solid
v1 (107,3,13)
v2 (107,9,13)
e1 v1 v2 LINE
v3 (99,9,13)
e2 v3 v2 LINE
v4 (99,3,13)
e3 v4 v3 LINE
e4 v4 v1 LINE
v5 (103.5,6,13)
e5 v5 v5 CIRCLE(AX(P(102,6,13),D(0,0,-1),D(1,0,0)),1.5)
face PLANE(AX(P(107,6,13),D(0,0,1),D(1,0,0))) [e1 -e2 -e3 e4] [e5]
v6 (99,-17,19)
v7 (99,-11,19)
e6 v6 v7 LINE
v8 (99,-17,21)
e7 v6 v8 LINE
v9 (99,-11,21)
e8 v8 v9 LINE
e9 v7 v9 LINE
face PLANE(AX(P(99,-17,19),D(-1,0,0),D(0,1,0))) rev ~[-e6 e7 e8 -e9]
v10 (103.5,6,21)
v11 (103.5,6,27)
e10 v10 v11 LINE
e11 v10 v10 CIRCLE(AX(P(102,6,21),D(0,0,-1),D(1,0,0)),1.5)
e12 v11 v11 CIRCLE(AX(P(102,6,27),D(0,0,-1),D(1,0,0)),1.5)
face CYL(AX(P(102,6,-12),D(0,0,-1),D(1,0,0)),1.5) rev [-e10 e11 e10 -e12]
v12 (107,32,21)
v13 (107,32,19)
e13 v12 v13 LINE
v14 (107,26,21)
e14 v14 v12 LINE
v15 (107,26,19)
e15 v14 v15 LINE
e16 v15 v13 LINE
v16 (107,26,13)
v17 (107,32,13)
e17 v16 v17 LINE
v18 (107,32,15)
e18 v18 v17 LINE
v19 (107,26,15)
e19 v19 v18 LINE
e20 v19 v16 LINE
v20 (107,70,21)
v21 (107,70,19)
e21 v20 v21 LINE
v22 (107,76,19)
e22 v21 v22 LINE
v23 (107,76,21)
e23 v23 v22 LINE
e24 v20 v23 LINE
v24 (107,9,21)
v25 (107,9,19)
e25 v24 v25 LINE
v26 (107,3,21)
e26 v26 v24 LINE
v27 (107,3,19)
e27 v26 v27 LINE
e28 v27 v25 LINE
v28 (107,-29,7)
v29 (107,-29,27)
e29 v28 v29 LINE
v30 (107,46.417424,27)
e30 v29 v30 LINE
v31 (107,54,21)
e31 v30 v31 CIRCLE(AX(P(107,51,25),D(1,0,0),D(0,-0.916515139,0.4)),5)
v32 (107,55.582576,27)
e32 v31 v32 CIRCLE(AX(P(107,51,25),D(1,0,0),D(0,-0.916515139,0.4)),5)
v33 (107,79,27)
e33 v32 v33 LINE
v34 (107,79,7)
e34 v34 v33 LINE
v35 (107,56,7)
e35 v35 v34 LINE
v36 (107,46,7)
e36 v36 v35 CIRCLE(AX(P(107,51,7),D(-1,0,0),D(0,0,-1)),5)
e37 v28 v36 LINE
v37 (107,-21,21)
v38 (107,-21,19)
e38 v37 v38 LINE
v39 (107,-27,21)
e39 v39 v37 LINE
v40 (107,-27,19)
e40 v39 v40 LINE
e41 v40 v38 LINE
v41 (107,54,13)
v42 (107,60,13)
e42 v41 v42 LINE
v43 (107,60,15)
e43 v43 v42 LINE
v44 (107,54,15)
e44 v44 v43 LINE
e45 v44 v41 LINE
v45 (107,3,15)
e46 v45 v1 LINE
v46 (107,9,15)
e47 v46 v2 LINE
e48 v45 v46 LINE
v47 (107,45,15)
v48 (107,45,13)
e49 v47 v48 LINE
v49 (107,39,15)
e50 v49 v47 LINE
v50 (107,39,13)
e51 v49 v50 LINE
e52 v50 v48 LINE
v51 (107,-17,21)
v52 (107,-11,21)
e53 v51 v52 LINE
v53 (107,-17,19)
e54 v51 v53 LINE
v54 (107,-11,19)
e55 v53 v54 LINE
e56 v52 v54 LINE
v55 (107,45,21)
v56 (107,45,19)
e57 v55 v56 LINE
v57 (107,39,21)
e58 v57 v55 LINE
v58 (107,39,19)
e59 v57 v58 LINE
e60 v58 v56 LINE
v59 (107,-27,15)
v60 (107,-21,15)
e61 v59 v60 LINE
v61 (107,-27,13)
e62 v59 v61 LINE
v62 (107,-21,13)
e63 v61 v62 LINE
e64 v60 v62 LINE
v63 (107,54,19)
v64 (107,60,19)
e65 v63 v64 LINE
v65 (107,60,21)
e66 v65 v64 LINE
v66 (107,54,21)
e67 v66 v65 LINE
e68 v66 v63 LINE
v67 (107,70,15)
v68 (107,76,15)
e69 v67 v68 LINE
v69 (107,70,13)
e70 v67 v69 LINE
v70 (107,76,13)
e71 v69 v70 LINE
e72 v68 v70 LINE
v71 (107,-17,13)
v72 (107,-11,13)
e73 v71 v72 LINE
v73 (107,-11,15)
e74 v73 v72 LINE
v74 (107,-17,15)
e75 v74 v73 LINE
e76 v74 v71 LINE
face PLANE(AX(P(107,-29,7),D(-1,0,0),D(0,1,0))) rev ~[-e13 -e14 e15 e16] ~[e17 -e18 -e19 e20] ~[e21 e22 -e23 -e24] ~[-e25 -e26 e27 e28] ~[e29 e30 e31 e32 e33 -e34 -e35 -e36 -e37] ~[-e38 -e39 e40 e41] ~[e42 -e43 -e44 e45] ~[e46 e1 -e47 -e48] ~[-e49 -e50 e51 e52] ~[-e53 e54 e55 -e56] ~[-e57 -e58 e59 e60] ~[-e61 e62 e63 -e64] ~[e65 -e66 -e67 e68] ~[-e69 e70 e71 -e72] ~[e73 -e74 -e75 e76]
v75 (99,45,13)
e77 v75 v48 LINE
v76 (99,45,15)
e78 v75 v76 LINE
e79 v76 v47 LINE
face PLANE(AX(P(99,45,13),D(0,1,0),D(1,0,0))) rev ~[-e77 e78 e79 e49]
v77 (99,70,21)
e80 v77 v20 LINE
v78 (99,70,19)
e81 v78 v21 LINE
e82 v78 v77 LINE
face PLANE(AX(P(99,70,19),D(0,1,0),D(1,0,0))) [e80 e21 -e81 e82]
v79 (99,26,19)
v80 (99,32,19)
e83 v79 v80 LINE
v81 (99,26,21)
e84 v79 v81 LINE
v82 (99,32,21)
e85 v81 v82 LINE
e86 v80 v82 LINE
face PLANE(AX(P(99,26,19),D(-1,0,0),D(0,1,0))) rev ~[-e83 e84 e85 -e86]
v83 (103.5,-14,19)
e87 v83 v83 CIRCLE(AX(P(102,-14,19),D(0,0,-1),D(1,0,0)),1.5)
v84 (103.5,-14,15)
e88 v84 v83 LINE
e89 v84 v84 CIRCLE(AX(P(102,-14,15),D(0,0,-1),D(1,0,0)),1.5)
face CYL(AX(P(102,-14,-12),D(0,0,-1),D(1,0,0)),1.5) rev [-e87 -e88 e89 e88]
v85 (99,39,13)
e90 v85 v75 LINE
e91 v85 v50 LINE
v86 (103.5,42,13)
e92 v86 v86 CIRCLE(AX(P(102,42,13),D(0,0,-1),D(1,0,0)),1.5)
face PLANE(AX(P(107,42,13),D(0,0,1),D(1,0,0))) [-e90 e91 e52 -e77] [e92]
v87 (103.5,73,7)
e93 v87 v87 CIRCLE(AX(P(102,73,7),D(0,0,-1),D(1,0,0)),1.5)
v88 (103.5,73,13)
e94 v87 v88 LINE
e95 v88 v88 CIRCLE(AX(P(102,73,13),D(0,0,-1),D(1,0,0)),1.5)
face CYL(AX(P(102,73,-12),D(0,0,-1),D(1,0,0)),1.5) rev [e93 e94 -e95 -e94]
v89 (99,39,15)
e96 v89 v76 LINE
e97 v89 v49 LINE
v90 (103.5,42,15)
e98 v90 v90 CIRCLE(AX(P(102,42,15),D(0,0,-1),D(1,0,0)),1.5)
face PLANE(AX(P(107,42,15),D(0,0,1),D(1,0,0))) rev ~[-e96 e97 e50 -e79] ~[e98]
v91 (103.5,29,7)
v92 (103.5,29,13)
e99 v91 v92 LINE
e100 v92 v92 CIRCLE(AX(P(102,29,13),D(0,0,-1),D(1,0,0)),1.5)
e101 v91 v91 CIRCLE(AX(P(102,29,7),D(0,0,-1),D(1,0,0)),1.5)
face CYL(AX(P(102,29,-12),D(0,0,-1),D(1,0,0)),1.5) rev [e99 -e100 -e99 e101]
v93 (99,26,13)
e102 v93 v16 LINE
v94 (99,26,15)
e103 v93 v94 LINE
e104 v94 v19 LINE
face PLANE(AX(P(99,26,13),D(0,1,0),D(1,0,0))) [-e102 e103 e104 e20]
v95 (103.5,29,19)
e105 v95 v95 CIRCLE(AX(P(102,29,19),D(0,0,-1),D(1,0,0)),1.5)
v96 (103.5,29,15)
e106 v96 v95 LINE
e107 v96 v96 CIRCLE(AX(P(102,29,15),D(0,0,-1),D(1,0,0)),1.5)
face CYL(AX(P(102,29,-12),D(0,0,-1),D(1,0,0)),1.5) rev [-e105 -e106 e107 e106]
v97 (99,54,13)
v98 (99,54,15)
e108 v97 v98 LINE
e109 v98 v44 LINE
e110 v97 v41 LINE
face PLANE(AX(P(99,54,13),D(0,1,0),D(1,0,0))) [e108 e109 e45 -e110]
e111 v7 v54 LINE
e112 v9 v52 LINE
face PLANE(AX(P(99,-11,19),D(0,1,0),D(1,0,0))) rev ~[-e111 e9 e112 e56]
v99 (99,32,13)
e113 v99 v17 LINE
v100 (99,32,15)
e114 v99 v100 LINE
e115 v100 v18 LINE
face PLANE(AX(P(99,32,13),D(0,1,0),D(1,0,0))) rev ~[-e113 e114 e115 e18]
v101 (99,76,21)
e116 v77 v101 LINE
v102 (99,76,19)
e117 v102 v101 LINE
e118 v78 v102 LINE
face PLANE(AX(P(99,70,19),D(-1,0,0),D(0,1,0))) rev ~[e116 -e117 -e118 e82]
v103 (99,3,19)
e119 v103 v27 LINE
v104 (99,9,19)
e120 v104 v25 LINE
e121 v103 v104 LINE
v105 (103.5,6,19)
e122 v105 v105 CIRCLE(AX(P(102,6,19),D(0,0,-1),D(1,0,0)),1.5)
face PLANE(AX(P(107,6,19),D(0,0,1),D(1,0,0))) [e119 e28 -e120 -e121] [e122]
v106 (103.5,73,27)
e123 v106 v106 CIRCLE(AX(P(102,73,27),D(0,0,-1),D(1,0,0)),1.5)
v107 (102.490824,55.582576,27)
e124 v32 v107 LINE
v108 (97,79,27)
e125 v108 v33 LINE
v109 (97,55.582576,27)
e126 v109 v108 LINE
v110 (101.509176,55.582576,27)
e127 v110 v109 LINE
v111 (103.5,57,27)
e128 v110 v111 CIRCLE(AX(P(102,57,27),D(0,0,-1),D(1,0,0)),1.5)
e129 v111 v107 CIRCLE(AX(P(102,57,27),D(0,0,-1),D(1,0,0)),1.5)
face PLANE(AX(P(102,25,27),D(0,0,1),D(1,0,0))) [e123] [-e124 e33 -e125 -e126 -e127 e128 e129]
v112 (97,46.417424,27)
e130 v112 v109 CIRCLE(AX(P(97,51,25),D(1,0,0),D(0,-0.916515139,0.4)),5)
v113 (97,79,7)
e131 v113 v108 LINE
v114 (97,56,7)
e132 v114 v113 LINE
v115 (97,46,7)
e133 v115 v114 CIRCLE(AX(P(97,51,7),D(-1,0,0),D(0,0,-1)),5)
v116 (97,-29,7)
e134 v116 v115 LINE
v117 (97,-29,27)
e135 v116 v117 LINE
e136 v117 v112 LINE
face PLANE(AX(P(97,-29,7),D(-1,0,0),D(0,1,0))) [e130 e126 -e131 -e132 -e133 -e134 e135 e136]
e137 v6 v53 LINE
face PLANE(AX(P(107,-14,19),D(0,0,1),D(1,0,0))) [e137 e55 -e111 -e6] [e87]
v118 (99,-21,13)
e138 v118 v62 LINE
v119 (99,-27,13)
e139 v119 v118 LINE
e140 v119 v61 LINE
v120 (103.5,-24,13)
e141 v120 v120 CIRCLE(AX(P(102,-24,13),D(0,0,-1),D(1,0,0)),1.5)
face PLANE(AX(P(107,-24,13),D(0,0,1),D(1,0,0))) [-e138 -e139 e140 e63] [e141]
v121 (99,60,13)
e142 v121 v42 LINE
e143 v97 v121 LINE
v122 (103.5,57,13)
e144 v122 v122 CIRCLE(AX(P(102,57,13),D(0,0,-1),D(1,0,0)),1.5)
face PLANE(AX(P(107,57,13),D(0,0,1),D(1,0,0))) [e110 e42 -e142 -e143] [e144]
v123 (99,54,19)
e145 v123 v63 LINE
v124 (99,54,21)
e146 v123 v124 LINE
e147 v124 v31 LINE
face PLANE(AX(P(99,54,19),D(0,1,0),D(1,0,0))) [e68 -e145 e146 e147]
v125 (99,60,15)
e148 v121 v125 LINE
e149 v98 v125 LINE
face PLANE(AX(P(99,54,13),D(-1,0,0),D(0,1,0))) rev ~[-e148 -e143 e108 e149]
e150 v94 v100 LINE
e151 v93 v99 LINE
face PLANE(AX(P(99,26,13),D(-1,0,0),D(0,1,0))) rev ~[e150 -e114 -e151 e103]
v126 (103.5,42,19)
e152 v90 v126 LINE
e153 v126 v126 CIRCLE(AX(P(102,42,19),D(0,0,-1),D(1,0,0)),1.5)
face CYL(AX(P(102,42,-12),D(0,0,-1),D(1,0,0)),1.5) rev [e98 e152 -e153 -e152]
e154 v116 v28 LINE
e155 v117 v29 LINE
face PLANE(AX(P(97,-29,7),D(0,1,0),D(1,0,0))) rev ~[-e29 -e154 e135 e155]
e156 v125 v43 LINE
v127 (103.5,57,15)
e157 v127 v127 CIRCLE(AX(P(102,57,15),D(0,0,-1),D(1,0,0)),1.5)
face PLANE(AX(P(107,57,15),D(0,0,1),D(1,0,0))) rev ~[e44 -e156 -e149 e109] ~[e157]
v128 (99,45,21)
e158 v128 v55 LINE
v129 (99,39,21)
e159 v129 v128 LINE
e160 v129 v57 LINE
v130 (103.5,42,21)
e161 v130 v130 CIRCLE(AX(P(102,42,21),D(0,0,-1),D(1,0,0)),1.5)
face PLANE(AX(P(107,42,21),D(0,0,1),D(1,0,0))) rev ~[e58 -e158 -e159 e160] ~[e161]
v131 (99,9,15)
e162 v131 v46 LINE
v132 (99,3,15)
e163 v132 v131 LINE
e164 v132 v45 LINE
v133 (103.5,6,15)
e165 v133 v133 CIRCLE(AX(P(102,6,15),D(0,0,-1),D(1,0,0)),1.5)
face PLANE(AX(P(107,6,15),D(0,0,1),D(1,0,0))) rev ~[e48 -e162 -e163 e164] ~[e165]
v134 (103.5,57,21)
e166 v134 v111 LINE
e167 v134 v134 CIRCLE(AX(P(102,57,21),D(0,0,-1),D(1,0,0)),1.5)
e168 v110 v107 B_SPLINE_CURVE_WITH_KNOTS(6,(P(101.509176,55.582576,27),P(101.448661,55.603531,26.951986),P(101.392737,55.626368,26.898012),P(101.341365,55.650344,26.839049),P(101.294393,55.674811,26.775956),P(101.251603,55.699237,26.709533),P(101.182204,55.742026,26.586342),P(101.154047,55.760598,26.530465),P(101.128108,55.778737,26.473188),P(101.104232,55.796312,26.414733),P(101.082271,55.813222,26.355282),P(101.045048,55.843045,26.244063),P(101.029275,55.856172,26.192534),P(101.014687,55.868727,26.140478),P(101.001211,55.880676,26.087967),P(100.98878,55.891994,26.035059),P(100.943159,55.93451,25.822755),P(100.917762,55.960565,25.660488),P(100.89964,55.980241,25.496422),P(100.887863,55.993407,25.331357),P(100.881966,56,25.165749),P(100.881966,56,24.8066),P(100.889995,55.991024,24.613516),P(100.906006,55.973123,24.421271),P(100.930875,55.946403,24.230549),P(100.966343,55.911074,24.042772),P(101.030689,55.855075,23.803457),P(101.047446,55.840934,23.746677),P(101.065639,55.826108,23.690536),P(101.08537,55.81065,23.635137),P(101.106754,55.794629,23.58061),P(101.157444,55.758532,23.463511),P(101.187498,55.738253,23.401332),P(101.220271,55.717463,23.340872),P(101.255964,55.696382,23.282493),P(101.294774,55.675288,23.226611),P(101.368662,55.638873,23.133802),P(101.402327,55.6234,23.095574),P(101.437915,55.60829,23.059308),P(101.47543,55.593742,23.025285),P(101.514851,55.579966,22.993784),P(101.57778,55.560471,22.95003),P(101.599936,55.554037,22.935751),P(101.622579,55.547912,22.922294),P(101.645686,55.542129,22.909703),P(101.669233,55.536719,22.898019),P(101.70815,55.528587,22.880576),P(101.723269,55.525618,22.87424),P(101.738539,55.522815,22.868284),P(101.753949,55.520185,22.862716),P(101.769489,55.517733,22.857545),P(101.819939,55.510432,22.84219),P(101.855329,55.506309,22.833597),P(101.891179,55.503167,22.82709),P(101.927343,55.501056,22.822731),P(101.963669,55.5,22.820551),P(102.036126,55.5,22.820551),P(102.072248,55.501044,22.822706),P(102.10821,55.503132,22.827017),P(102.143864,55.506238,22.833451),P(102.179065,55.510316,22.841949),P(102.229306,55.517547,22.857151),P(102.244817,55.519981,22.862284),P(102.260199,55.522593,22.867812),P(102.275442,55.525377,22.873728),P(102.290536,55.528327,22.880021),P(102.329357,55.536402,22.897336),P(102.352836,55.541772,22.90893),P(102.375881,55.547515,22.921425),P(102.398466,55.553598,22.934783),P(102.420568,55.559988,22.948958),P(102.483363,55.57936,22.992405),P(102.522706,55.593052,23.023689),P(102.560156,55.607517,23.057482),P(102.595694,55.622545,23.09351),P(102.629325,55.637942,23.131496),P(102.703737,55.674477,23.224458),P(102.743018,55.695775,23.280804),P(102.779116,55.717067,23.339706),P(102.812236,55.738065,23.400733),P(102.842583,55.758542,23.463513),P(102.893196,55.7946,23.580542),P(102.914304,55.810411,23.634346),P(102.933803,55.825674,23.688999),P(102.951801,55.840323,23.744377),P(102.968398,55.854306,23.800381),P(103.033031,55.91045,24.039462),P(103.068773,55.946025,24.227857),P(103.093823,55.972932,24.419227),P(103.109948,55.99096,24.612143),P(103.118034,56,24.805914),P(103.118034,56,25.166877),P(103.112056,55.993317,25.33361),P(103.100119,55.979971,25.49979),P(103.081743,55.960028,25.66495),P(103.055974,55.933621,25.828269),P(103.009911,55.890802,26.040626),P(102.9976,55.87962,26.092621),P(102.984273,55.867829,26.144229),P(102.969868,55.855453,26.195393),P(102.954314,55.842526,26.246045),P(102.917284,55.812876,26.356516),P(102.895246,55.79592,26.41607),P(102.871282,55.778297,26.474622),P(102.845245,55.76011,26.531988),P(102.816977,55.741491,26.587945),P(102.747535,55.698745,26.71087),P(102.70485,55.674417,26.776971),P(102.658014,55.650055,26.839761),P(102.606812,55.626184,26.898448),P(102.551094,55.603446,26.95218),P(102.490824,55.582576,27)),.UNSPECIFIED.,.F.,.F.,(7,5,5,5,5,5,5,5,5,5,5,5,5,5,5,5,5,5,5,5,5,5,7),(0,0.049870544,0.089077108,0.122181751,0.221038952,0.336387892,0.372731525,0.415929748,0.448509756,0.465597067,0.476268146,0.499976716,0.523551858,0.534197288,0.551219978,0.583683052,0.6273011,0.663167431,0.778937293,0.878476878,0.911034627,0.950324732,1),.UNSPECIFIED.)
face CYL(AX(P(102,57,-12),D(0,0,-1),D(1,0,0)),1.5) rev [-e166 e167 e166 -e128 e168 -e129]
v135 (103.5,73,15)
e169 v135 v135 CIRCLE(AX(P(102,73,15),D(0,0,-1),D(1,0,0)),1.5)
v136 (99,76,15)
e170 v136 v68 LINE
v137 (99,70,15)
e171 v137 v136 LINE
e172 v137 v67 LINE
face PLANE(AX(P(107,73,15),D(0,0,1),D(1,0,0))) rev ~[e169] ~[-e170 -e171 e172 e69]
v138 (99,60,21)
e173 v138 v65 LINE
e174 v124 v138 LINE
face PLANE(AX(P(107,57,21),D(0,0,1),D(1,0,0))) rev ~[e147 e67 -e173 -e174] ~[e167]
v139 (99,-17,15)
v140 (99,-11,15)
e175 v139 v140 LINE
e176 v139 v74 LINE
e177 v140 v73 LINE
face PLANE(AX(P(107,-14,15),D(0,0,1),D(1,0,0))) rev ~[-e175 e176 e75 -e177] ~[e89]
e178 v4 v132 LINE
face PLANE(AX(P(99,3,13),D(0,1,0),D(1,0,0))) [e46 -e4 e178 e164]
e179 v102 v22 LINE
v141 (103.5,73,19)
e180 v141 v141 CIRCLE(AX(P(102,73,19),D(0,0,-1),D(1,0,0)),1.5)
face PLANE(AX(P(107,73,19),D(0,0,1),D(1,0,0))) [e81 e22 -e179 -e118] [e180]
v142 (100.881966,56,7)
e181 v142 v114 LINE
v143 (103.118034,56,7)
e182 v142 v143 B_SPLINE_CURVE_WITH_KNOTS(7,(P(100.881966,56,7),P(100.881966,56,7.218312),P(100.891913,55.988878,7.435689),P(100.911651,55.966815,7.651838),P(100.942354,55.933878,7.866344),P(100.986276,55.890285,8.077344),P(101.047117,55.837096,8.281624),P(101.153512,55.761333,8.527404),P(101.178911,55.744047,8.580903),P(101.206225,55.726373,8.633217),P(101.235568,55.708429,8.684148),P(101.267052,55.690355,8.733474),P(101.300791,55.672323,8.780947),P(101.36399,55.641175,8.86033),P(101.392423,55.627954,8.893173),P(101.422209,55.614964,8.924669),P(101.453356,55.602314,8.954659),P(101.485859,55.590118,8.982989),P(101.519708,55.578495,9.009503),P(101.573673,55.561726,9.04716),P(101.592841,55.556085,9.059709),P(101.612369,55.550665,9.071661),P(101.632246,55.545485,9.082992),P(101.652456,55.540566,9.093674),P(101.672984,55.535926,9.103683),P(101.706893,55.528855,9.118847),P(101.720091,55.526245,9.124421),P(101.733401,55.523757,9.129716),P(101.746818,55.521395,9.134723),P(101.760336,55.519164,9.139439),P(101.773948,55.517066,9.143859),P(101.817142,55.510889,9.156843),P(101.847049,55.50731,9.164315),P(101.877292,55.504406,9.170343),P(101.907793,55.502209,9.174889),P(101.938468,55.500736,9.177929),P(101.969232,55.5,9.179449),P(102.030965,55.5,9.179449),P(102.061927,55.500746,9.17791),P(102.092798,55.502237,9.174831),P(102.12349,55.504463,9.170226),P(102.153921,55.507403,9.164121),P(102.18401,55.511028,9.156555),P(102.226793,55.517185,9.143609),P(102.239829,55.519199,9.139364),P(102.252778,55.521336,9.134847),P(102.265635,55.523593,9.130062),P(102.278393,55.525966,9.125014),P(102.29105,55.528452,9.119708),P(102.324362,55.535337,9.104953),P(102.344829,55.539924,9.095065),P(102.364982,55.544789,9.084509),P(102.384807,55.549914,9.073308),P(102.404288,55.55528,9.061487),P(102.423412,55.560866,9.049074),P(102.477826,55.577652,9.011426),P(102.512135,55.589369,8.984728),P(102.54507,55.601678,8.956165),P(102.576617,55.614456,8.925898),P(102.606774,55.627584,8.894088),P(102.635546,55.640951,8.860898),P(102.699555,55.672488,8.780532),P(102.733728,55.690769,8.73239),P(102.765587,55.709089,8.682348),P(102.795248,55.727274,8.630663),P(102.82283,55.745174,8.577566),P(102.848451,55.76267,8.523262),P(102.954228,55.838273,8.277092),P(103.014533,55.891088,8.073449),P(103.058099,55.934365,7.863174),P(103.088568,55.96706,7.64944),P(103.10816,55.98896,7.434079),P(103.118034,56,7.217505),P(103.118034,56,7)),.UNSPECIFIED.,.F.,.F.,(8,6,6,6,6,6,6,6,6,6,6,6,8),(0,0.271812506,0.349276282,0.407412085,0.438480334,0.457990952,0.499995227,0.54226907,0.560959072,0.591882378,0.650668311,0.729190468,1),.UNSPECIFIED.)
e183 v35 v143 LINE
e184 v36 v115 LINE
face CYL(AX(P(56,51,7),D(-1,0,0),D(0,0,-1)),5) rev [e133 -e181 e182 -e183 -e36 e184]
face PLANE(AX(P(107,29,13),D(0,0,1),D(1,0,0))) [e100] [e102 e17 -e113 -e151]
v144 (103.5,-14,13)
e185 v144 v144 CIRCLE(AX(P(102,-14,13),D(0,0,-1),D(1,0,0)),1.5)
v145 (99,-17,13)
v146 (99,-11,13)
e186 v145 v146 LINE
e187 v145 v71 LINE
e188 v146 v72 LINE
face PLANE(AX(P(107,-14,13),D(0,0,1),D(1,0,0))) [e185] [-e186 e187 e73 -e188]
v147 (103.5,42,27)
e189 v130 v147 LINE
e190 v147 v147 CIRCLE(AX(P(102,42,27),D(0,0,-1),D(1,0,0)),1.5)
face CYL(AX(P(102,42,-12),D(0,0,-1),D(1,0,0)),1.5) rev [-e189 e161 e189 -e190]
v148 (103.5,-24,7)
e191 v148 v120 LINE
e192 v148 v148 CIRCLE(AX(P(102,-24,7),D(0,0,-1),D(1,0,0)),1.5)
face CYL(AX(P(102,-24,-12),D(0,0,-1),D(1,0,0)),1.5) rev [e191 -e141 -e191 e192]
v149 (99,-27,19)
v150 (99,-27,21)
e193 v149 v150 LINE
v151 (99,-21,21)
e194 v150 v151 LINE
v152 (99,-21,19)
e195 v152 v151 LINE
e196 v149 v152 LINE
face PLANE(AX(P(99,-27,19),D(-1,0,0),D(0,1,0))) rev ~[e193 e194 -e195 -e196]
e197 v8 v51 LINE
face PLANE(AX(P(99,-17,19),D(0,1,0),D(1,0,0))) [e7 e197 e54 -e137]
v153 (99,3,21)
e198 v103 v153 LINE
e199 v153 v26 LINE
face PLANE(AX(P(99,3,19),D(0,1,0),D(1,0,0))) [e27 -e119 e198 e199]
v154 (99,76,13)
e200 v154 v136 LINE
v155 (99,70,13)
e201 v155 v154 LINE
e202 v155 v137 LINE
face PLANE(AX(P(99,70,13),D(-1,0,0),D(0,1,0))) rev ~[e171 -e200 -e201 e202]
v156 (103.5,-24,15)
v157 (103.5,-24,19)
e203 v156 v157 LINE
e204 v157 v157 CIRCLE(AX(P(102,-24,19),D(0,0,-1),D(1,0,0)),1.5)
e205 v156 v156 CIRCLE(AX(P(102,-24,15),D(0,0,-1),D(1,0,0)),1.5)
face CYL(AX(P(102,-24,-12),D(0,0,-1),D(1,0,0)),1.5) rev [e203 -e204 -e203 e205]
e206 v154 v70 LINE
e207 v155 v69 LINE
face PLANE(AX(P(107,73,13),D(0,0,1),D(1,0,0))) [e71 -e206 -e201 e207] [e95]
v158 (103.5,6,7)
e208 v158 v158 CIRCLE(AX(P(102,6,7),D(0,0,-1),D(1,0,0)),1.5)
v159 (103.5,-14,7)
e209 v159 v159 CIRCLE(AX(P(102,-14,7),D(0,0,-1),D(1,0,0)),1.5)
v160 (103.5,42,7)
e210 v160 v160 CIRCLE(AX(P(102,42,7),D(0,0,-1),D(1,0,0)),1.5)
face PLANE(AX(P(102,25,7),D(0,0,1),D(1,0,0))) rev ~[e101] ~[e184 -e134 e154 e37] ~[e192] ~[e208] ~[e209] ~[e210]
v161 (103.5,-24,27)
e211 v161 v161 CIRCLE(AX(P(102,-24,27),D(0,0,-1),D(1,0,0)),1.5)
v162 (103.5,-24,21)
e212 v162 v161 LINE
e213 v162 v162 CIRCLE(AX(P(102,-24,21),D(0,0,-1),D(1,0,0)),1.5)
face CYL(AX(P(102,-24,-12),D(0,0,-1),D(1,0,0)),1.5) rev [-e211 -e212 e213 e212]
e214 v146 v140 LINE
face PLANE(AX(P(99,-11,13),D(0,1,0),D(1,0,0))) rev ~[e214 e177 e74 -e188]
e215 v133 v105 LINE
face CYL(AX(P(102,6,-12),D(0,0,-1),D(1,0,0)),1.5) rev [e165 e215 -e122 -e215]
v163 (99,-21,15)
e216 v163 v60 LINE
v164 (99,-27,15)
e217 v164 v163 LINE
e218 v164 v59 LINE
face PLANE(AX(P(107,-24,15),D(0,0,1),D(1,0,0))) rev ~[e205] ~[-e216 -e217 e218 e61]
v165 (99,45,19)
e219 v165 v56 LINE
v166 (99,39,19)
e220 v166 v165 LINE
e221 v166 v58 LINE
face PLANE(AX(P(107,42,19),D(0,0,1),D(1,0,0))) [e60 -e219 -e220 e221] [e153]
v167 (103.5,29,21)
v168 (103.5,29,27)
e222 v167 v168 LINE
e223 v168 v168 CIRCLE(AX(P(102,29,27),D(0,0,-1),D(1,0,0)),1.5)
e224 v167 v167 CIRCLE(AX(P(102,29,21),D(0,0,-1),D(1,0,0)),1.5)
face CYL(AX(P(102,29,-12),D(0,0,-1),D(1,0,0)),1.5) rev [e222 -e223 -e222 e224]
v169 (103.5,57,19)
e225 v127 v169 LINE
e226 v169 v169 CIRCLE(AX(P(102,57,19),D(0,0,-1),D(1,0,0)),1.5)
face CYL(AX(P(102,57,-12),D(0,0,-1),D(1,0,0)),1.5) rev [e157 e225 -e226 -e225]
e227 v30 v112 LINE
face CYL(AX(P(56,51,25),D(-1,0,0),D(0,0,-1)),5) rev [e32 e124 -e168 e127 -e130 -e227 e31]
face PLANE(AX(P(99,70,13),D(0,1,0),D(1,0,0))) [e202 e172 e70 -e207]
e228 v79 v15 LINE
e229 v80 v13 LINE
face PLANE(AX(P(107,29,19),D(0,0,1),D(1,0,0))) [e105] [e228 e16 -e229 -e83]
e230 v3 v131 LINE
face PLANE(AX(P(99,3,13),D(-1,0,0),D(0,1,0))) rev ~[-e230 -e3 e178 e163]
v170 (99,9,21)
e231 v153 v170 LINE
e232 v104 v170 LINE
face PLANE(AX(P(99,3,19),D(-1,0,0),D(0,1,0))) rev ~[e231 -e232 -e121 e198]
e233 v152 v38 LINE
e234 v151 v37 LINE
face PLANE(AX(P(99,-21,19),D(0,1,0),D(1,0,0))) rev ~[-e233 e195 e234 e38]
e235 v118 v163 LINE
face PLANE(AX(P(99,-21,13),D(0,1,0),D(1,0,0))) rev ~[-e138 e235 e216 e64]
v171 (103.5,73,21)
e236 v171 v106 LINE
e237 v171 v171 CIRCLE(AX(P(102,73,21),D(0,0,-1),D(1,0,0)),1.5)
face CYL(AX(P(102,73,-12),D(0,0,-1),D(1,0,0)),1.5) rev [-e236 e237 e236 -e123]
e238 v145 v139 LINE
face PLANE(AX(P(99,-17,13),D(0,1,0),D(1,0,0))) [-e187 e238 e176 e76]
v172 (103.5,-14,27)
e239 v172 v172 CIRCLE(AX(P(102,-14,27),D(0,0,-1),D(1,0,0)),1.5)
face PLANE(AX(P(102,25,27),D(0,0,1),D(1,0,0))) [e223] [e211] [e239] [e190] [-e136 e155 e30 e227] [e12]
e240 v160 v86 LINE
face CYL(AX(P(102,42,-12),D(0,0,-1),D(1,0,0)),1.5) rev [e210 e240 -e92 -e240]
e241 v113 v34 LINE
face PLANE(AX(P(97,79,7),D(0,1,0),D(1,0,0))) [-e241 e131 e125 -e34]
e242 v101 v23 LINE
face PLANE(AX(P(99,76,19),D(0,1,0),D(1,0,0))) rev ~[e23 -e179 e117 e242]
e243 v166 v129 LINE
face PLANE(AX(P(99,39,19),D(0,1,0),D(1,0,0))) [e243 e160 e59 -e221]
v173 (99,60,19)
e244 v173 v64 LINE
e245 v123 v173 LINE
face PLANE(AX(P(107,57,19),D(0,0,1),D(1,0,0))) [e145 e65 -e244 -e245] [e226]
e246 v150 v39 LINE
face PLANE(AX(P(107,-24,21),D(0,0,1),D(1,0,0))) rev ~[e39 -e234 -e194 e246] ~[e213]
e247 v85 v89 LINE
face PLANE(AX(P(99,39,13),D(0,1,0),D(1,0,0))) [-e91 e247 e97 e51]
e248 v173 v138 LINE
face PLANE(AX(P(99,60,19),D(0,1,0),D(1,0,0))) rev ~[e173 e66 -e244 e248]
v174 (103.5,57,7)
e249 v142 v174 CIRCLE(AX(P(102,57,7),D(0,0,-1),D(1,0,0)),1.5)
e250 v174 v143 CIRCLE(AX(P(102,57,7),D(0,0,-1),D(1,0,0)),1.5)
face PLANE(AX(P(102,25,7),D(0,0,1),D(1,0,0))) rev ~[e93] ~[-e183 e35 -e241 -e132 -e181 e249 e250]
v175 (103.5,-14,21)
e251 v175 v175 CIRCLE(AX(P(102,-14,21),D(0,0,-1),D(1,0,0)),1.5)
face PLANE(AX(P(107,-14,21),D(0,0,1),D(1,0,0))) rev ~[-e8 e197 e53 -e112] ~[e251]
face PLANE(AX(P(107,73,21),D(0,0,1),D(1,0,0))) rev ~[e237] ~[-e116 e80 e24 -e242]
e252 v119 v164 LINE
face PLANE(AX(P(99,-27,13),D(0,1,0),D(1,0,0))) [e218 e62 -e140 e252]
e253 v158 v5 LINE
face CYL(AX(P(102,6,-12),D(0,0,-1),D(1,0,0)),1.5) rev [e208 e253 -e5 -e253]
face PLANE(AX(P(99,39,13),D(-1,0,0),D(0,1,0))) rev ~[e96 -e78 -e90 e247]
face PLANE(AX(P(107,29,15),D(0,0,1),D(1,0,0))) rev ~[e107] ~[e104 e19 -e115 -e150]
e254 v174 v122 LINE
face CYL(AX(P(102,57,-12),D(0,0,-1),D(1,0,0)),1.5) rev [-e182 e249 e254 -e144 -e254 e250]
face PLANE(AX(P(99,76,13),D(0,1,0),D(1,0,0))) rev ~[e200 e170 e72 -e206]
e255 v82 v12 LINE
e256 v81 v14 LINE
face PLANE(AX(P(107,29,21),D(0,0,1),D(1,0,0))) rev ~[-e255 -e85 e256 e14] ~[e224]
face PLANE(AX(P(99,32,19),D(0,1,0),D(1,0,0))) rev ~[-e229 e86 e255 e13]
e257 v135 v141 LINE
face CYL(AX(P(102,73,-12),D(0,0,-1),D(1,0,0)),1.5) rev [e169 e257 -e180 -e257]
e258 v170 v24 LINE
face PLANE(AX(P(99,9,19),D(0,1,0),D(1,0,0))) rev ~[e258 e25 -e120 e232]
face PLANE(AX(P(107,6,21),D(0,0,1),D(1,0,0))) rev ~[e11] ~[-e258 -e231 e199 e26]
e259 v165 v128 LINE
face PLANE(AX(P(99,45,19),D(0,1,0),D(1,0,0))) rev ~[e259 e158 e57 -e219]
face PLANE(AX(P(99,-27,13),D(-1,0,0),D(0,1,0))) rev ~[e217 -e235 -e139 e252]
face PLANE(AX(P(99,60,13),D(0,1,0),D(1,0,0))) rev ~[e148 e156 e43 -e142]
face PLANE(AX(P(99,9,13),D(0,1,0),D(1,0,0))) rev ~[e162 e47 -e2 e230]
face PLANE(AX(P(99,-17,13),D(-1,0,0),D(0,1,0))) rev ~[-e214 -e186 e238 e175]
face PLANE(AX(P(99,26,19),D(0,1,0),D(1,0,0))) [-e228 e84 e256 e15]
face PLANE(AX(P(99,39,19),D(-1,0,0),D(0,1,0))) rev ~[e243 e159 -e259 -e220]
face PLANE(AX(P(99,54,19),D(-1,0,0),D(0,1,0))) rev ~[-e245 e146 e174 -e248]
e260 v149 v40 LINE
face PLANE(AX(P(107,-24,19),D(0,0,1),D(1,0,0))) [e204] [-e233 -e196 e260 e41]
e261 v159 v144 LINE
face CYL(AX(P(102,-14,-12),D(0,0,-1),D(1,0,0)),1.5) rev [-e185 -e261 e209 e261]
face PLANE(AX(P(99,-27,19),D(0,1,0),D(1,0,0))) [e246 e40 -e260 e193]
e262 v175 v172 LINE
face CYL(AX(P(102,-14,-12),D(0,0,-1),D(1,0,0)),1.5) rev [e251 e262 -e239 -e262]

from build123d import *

# Parameters (mm, degrees)
BOX183_W          = 16
BOX183_H          = 6
BOX183_DEPTH      = 2
BOX184_W          = 16
BOX184_H          = 6
BOX184_DEPTH      = 2
BOX185_W          = 16
BOX185_H          = 6
BOX185_DEPTH      = 2
BOX186_W          = 16
BOX186_H          = 6
BOX186_DEPTH      = 2
BOX187_W          = 16
BOX187_H          = 6
BOX187_DEPTH      = 2
BOX188_W          = 16
BOX188_H          = 6
BOX188_DEPTH      = 2
BOX189_W          = 16
BOX189_H          = 6
BOX189_DEPTH      = 2
BOX190_W          = 16
BOX190_H          = 6
BOX190_DEPTH      = 2
BOX191_W          = 16
BOX191_H          = 6
BOX191_DEPTH      = 2
BOX192_W          = 16
BOX192_H          = 6
BOX192_DEPTH      = 2
BOX193_W          = 16
BOX193_H          = 6
BOX193_DEPTH      = 2
BOX194_W          = 16
BOX194_H          = 6
BOX194_DEPTH      = 2
BOX195_W          = 16
BOX195_H          = 6
BOX195_DEPTH      = 2
BOX182_W          = 16
BOX182_H          = 6
BOX182_DEPTH      = 2
CYLINDER440_R     = 1.5
CYLINDER440_DEPTH = 50
CYLINDER441_R     = 1.5
CYLINDER441_DEPTH = 50
CYLINDER442_R     = 1.5
CYLINDER442_DEPTH = 50
CYLINDER443_R     = 1.5
CYLINDER443_DEPTH = 50
CYLINDER444_R     = 1.5
CYLINDER444_DEPTH = 50
CYLINDER445_R     = 1.5
CYLINDER445_DEPTH = 50
CYLINDER439_R     = 1.5
CYLINDER439_DEPTH = 50
CYLINDER432_R     = 5
CYLINDER432_DEPTH = 100
CYLINDER433_R     = 5
CYLINDER433_DEPTH = 100
CYLINDER434_R     = 5
CYLINDER434_DEPTH = 100
CYLINDER435_R     = 5
CYLINDER435_DEPTH = 100
CYLINDER436_R     = 5
CYLINDER436_DEPTH = 100
CYLINDER437_R     = 5
CYLINDER437_DEPTH = 100
CYLINDER438_R     = 5
CYLINDER438_DEPTH = 100
CYLINDER431_R     = 5
CYLINDER431_DEPTH = 100
BOX181_W          = 10
BOX181_H          = 108
BOX181_DEPTH      = 20


with BuildPart() as krychle183:
    # Box183 → Box183 (new body)
    with BuildSketch(Plane(origin=(60, 2, 16), x_dir=(1, 0, 0), z_dir=(0, 0, 1))):
        with Locations((8, 3)):
            Rectangle(BOX183_W, BOX183_H)
    extrude(amount=BOX183_DEPTH)


with BuildPart() as krychle184:
    # Box184 → Box184 (new body)
    with BuildSketch(Plane(origin=(60, -21, 10), x_dir=(1, 0, 0), z_dir=(0, 0, 1))):
        with Locations((8, 3)):
            Rectangle(BOX184_W, BOX184_H)
    extrude(amount=BOX184_DEPTH)


with BuildPart() as krychle185:
    # Box185 → Box185 (new body)
    with BuildSketch(Plane(origin=(60, -21, 16), x_dir=(1, 0, 0), z_dir=(0, 0, 1))):
        with Locations((8, 3)):
            Rectangle(BOX185_W, BOX185_H)
    extrude(amount=BOX185_DEPTH)


with BuildPart() as krychle186:
    # Box186 → Box186 (new body)
    with BuildSketch(Plane(origin=(60, -41, 10), x_dir=(1, 0, 0), z_dir=(0, 0, 1))):
        with Locations((8, 3)):
            Rectangle(BOX186_W, BOX186_H)
    extrude(amount=BOX186_DEPTH)


with BuildPart() as krychle187:
    # Box187 → Box187 (new body)
    with BuildSketch(Plane(origin=(60, -41, 16), x_dir=(1, 0, 0), z_dir=(0, 0, 1))):
        with Locations((8, 3)):
            Rectangle(BOX187_W, BOX187_H)
    extrude(amount=BOX187_DEPTH)


with BuildPart() as krychle188:
    # Box188 → Box188 (new body)
    with BuildSketch(Plane(origin=(60, -51, 10), x_dir=(1, 0, 0), z_dir=(0, 0, 1))):
        with Locations((8, 3)):
            Rectangle(BOX188_W, BOX188_H)
    extrude(amount=BOX188_DEPTH)


with BuildPart() as krychle189:
    # Box189 → Box189 (new body)
    with BuildSketch(Plane(origin=(60, -51, 16), x_dir=(1, 0, 0), z_dir=(0, 0, 1))):
        with Locations((8, 3)):
            Rectangle(BOX189_W, BOX189_H)
    extrude(amount=BOX189_DEPTH)


with BuildPart() as krychle190:
    # Box190 → Box190 (new body)
    with BuildSketch(Plane(origin=(60, 15, 10), x_dir=(1, 0, 0), z_dir=(0, 0, 1))):
        with Locations((8, 3)):
            Rectangle(BOX190_W, BOX190_H)
    extrude(amount=BOX190_DEPTH)


with BuildPart() as krychle191:
    # Box191 → Box191 (new body)
    with BuildSketch(Plane(origin=(60, 30, 10), x_dir=(1, 0, 0), z_dir=(0, 0, 1))):
        with Locations((8, 3)):
            Rectangle(BOX191_W, BOX191_H)
    extrude(amount=BOX191_DEPTH)


with BuildPart() as krychle192:
    # Box192 → Box192 (new body)
    with BuildSketch(Plane(origin=(60, 46, 10), x_dir=(1, 0, 0), z_dir=(0, 0, 1))):
        with Locations((8, 3)):
            Rectangle(BOX192_W, BOX192_H)
    extrude(amount=BOX192_DEPTH)


with BuildPart() as krychle193:
    # Box193 → Box193 (new body)
    with BuildSketch(Plane(origin=(60, 15, 16), x_dir=(1, 0, 0), z_dir=(0, 0, 1))):
        with Locations((8, 3)):
            Rectangle(BOX193_W, BOX193_H)
    extrude(amount=BOX193_DEPTH)


with BuildPart() as krychle194:
    # Box194 → Box194 (new body)
    with BuildSketch(Plane(origin=(60, 30, 16), x_dir=(1, 0, 0), z_dir=(0, 0, 1))):
        with Locations((8, 3)):
            Rectangle(BOX194_W, BOX194_H)
    extrude(amount=BOX194_DEPTH)


with BuildPart() as krychle195:
    # Box195 → Box195 (new body)
    with BuildSketch(Plane(origin=(60, 46, 16), x_dir=(1, 0, 0), z_dir=(0, 0, 1))):
        with Locations((8, 3)):
            Rectangle(BOX195_W, BOX195_H)
    extrude(amount=BOX195_DEPTH)


with BuildPart() as compound585:
    # Box182 → Box182 (new body)
    with BuildSketch(Plane(origin=(60, 2, 10), x_dir=(1, 0, 0), z_dir=(0, 0, 1))):
        with Locations((8, 3)):
            Rectangle(BOX182_W, BOX182_H)
    extrude(amount=BOX182_DEPTH)

    # Compound585: union Krychle183, Krychle184, Krychle185, Krychle186, Krychle187, Krychle188, Krychle189, Krychle190, Krychle191, Krychle192, Krychle193, Krychle194, Krychle195
    add(krychle183.part)
    add(krychle184.part)
    add(krychle185.part)
    add(krychle186.part)
    add(krychle187.part)
    add(krychle188.part)
    add(krychle189.part)
    add(krychle190.part)
    add(krychle191.part)
    add(krychle192.part)
    add(krychle193.part)
    add(krychle194.part)
    add(krychle195.part)


with BuildPart() as compound585_1:
    # Compound585 placement: moved
    add(compound585.part.moved(Location((39, 24, 3))))


with BuildPart() as v_lec440:
    # Cylinder440 → Cylinder440 (new body)
    with BuildSketch(Plane(origin=(63, -18, -12), x_dir=(1, 0, 0), z_dir=(0, 0, 1))):
        Circle(CYLINDER440_R)
    extrude(amount=CYLINDER440_DEPTH)


with BuildPart() as v_lec441:
    # Cylinder441 → Cylinder441 (new body)
    with BuildSketch(Plane(origin=(63, -38, -12), x_dir=(1, 0, 0), z_dir=(0, 0, 1))):
        Circle(CYLINDER441_R)
    extrude(amount=CYLINDER441_DEPTH)


with BuildPart() as v_lec442:
    # Cylinder442 → Cylinder442 (new body)
    with BuildSketch(Plane(origin=(63, -48, -12), x_dir=(1, 0, 0), z_dir=(0, 0, 1))):
        Circle(CYLINDER442_R)
    extrude(amount=CYLINDER442_DEPTH)


with BuildPart() as v_lec443:
    # Cylinder443 → Cylinder443 (new body)
    with BuildSketch(Plane(origin=(63, 18, -12), x_dir=(1, 0, 0), z_dir=(0, 0, 1))):
        Circle(CYLINDER443_R)
    extrude(amount=CYLINDER443_DEPTH)


with BuildPart() as v_lec444:
    # Cylinder444 → Cylinder444 (new body)
    with BuildSketch(Plane(origin=(63, 33, -12), x_dir=(1, 0, 0), z_dir=(0, 0, 1))):
        Circle(CYLINDER444_R)
    extrude(amount=CYLINDER444_DEPTH)


with BuildPart() as v_lec445:
    # Cylinder445 → Cylinder445 (new body)
    with BuildSketch(Plane(origin=(63, 49, -12), x_dir=(1, 0, 0), z_dir=(0, 0, 1))):
        Circle(CYLINDER445_R)
    extrude(amount=CYLINDER445_DEPTH)


with BuildPart() as compound590:
    # Cylinder439 → Cylinder439 (new body)
    with BuildSketch(Plane(origin=(63, 5, -12), x_dir=(1, 0, 0), z_dir=(0, 0, 1))):
        Circle(CYLINDER439_R)
    extrude(amount=CYLINDER439_DEPTH)

    # Compound590: union Válec440, Válec441, Válec442, Válec443, Válec444, Válec445
    add(v_lec440.part)
    add(v_lec441.part)
    add(v_lec442.part)
    add(v_lec443.part)
    add(v_lec444.part)
    add(v_lec445.part)


with BuildPart() as compound590_1:
    # Compound590 placement: moved
    add(compound590.part.moved(Location((39, 24, 0))))


with BuildPart() as v_lec432:
    # Cylinder432 → Cylinder432 (new body)
    with BuildSketch(Plane(origin=(24, -51, 25), x_dir=(0, 0, -1), z_dir=(1, 0, 0))):
        Circle(CYLINDER432_R)
    extrude(amount=CYLINDER432_DEPTH)


with BuildPart() as v_lec433:
    # Cylinder433 → Cylinder433 (new body)
    with BuildSketch(Plane(origin=(24, 36, 34), x_dir=(0, 0, -1), z_dir=(1, 0, 0))):
        Circle(CYLINDER433_R)
    extrude(amount=CYLINDER433_DEPTH)


with BuildPart() as v_lec434:
    # Cylinder434 → Cylinder434 (new body)
    with BuildSketch(Plane(origin=(24, -36, 34), x_dir=(0, 0, -1), z_dir=(1, 0, 0))):
        Circle(CYLINDER434_R)
    extrude(amount=CYLINDER434_DEPTH)


with BuildPart() as v_lec435:
    # Cylinder435 → Cylinder435 (new body)
    with BuildSketch(Plane(origin=(24, -23, -5), x_dir=(0, 0, -1), z_dir=(1, 0, 0))):
        Circle(CYLINDER435_R)
    extrude(amount=CYLINDER435_DEPTH)


with BuildPart() as v_lec436:
    # Cylinder436 → Cylinder436 (new body)
    with BuildSketch(Plane(origin=(24, 51, 7), x_dir=(0, 0, -1), z_dir=(1, 0, 0))):
        Circle(CYLINDER436_R)
    extrude(amount=CYLINDER436_DEPTH)


with BuildPart() as v_lec437:
    # Cylinder437 → Cylinder437 (new body)
    with BuildSketch(Plane(origin=(24, 23, -5), x_dir=(0, 0, -1), z_dir=(1, 0, 0))):
        Circle(CYLINDER437_R)
    extrude(amount=CYLINDER437_DEPTH)


with BuildPart() as v_lec438:
    # Cylinder438 → Cylinder438 (new body)
    with BuildSketch(Plane(origin=(24, -51, 7), x_dir=(0, 0, -1), z_dir=(1, 0, 0))):
        Circle(CYLINDER438_R)
    extrude(amount=CYLINDER438_DEPTH)


with BuildPart() as compound589:
    # Cylinder431 → Cylinder431 (new body)
    with BuildSketch(Plane(origin=(24, 51, 25), x_dir=(0, 0, -1), z_dir=(1, 0, 0))):
        Circle(CYLINDER431_R)
    extrude(amount=CYLINDER431_DEPTH)

    # Compound589: union Válec432, Válec433, Válec434, Válec435, Válec436, Válec437, Válec438
    add(v_lec432.part)
    add(v_lec433.part)
    add(v_lec434.part)
    add(v_lec435.part)
    add(v_lec436.part)
    add(v_lec437.part)
    add(v_lec438.part)


with BuildPart() as compound589_1:
    # Compound589 placement: moved
    add(compound589.part.moved(Location((32, 0, 0))))


with BuildPart() as cut365:
    # Box181 → Box181 (new body)
    with BuildSketch(Plane(origin=(97, -29, 7), x_dir=(1, 0, 0), z_dir=(0, 0, 1))):
        with Locations((5, 54)):
            Rectangle(BOX181_W, BOX181_H)
    extrude(amount=BOX181_DEPTH)

    # Cut363: cut Compound589
    add(compound589_1.part, mode=Mode.SUBTRACT)

    # Cut364: cut Compound590
    add(compound590_1.part, mode=Mode.SUBTRACT)

    # Cut365: cut Compound585
    add(compound585_1.part, mode=Mode.SUBTRACT)


solid = cut365.part
